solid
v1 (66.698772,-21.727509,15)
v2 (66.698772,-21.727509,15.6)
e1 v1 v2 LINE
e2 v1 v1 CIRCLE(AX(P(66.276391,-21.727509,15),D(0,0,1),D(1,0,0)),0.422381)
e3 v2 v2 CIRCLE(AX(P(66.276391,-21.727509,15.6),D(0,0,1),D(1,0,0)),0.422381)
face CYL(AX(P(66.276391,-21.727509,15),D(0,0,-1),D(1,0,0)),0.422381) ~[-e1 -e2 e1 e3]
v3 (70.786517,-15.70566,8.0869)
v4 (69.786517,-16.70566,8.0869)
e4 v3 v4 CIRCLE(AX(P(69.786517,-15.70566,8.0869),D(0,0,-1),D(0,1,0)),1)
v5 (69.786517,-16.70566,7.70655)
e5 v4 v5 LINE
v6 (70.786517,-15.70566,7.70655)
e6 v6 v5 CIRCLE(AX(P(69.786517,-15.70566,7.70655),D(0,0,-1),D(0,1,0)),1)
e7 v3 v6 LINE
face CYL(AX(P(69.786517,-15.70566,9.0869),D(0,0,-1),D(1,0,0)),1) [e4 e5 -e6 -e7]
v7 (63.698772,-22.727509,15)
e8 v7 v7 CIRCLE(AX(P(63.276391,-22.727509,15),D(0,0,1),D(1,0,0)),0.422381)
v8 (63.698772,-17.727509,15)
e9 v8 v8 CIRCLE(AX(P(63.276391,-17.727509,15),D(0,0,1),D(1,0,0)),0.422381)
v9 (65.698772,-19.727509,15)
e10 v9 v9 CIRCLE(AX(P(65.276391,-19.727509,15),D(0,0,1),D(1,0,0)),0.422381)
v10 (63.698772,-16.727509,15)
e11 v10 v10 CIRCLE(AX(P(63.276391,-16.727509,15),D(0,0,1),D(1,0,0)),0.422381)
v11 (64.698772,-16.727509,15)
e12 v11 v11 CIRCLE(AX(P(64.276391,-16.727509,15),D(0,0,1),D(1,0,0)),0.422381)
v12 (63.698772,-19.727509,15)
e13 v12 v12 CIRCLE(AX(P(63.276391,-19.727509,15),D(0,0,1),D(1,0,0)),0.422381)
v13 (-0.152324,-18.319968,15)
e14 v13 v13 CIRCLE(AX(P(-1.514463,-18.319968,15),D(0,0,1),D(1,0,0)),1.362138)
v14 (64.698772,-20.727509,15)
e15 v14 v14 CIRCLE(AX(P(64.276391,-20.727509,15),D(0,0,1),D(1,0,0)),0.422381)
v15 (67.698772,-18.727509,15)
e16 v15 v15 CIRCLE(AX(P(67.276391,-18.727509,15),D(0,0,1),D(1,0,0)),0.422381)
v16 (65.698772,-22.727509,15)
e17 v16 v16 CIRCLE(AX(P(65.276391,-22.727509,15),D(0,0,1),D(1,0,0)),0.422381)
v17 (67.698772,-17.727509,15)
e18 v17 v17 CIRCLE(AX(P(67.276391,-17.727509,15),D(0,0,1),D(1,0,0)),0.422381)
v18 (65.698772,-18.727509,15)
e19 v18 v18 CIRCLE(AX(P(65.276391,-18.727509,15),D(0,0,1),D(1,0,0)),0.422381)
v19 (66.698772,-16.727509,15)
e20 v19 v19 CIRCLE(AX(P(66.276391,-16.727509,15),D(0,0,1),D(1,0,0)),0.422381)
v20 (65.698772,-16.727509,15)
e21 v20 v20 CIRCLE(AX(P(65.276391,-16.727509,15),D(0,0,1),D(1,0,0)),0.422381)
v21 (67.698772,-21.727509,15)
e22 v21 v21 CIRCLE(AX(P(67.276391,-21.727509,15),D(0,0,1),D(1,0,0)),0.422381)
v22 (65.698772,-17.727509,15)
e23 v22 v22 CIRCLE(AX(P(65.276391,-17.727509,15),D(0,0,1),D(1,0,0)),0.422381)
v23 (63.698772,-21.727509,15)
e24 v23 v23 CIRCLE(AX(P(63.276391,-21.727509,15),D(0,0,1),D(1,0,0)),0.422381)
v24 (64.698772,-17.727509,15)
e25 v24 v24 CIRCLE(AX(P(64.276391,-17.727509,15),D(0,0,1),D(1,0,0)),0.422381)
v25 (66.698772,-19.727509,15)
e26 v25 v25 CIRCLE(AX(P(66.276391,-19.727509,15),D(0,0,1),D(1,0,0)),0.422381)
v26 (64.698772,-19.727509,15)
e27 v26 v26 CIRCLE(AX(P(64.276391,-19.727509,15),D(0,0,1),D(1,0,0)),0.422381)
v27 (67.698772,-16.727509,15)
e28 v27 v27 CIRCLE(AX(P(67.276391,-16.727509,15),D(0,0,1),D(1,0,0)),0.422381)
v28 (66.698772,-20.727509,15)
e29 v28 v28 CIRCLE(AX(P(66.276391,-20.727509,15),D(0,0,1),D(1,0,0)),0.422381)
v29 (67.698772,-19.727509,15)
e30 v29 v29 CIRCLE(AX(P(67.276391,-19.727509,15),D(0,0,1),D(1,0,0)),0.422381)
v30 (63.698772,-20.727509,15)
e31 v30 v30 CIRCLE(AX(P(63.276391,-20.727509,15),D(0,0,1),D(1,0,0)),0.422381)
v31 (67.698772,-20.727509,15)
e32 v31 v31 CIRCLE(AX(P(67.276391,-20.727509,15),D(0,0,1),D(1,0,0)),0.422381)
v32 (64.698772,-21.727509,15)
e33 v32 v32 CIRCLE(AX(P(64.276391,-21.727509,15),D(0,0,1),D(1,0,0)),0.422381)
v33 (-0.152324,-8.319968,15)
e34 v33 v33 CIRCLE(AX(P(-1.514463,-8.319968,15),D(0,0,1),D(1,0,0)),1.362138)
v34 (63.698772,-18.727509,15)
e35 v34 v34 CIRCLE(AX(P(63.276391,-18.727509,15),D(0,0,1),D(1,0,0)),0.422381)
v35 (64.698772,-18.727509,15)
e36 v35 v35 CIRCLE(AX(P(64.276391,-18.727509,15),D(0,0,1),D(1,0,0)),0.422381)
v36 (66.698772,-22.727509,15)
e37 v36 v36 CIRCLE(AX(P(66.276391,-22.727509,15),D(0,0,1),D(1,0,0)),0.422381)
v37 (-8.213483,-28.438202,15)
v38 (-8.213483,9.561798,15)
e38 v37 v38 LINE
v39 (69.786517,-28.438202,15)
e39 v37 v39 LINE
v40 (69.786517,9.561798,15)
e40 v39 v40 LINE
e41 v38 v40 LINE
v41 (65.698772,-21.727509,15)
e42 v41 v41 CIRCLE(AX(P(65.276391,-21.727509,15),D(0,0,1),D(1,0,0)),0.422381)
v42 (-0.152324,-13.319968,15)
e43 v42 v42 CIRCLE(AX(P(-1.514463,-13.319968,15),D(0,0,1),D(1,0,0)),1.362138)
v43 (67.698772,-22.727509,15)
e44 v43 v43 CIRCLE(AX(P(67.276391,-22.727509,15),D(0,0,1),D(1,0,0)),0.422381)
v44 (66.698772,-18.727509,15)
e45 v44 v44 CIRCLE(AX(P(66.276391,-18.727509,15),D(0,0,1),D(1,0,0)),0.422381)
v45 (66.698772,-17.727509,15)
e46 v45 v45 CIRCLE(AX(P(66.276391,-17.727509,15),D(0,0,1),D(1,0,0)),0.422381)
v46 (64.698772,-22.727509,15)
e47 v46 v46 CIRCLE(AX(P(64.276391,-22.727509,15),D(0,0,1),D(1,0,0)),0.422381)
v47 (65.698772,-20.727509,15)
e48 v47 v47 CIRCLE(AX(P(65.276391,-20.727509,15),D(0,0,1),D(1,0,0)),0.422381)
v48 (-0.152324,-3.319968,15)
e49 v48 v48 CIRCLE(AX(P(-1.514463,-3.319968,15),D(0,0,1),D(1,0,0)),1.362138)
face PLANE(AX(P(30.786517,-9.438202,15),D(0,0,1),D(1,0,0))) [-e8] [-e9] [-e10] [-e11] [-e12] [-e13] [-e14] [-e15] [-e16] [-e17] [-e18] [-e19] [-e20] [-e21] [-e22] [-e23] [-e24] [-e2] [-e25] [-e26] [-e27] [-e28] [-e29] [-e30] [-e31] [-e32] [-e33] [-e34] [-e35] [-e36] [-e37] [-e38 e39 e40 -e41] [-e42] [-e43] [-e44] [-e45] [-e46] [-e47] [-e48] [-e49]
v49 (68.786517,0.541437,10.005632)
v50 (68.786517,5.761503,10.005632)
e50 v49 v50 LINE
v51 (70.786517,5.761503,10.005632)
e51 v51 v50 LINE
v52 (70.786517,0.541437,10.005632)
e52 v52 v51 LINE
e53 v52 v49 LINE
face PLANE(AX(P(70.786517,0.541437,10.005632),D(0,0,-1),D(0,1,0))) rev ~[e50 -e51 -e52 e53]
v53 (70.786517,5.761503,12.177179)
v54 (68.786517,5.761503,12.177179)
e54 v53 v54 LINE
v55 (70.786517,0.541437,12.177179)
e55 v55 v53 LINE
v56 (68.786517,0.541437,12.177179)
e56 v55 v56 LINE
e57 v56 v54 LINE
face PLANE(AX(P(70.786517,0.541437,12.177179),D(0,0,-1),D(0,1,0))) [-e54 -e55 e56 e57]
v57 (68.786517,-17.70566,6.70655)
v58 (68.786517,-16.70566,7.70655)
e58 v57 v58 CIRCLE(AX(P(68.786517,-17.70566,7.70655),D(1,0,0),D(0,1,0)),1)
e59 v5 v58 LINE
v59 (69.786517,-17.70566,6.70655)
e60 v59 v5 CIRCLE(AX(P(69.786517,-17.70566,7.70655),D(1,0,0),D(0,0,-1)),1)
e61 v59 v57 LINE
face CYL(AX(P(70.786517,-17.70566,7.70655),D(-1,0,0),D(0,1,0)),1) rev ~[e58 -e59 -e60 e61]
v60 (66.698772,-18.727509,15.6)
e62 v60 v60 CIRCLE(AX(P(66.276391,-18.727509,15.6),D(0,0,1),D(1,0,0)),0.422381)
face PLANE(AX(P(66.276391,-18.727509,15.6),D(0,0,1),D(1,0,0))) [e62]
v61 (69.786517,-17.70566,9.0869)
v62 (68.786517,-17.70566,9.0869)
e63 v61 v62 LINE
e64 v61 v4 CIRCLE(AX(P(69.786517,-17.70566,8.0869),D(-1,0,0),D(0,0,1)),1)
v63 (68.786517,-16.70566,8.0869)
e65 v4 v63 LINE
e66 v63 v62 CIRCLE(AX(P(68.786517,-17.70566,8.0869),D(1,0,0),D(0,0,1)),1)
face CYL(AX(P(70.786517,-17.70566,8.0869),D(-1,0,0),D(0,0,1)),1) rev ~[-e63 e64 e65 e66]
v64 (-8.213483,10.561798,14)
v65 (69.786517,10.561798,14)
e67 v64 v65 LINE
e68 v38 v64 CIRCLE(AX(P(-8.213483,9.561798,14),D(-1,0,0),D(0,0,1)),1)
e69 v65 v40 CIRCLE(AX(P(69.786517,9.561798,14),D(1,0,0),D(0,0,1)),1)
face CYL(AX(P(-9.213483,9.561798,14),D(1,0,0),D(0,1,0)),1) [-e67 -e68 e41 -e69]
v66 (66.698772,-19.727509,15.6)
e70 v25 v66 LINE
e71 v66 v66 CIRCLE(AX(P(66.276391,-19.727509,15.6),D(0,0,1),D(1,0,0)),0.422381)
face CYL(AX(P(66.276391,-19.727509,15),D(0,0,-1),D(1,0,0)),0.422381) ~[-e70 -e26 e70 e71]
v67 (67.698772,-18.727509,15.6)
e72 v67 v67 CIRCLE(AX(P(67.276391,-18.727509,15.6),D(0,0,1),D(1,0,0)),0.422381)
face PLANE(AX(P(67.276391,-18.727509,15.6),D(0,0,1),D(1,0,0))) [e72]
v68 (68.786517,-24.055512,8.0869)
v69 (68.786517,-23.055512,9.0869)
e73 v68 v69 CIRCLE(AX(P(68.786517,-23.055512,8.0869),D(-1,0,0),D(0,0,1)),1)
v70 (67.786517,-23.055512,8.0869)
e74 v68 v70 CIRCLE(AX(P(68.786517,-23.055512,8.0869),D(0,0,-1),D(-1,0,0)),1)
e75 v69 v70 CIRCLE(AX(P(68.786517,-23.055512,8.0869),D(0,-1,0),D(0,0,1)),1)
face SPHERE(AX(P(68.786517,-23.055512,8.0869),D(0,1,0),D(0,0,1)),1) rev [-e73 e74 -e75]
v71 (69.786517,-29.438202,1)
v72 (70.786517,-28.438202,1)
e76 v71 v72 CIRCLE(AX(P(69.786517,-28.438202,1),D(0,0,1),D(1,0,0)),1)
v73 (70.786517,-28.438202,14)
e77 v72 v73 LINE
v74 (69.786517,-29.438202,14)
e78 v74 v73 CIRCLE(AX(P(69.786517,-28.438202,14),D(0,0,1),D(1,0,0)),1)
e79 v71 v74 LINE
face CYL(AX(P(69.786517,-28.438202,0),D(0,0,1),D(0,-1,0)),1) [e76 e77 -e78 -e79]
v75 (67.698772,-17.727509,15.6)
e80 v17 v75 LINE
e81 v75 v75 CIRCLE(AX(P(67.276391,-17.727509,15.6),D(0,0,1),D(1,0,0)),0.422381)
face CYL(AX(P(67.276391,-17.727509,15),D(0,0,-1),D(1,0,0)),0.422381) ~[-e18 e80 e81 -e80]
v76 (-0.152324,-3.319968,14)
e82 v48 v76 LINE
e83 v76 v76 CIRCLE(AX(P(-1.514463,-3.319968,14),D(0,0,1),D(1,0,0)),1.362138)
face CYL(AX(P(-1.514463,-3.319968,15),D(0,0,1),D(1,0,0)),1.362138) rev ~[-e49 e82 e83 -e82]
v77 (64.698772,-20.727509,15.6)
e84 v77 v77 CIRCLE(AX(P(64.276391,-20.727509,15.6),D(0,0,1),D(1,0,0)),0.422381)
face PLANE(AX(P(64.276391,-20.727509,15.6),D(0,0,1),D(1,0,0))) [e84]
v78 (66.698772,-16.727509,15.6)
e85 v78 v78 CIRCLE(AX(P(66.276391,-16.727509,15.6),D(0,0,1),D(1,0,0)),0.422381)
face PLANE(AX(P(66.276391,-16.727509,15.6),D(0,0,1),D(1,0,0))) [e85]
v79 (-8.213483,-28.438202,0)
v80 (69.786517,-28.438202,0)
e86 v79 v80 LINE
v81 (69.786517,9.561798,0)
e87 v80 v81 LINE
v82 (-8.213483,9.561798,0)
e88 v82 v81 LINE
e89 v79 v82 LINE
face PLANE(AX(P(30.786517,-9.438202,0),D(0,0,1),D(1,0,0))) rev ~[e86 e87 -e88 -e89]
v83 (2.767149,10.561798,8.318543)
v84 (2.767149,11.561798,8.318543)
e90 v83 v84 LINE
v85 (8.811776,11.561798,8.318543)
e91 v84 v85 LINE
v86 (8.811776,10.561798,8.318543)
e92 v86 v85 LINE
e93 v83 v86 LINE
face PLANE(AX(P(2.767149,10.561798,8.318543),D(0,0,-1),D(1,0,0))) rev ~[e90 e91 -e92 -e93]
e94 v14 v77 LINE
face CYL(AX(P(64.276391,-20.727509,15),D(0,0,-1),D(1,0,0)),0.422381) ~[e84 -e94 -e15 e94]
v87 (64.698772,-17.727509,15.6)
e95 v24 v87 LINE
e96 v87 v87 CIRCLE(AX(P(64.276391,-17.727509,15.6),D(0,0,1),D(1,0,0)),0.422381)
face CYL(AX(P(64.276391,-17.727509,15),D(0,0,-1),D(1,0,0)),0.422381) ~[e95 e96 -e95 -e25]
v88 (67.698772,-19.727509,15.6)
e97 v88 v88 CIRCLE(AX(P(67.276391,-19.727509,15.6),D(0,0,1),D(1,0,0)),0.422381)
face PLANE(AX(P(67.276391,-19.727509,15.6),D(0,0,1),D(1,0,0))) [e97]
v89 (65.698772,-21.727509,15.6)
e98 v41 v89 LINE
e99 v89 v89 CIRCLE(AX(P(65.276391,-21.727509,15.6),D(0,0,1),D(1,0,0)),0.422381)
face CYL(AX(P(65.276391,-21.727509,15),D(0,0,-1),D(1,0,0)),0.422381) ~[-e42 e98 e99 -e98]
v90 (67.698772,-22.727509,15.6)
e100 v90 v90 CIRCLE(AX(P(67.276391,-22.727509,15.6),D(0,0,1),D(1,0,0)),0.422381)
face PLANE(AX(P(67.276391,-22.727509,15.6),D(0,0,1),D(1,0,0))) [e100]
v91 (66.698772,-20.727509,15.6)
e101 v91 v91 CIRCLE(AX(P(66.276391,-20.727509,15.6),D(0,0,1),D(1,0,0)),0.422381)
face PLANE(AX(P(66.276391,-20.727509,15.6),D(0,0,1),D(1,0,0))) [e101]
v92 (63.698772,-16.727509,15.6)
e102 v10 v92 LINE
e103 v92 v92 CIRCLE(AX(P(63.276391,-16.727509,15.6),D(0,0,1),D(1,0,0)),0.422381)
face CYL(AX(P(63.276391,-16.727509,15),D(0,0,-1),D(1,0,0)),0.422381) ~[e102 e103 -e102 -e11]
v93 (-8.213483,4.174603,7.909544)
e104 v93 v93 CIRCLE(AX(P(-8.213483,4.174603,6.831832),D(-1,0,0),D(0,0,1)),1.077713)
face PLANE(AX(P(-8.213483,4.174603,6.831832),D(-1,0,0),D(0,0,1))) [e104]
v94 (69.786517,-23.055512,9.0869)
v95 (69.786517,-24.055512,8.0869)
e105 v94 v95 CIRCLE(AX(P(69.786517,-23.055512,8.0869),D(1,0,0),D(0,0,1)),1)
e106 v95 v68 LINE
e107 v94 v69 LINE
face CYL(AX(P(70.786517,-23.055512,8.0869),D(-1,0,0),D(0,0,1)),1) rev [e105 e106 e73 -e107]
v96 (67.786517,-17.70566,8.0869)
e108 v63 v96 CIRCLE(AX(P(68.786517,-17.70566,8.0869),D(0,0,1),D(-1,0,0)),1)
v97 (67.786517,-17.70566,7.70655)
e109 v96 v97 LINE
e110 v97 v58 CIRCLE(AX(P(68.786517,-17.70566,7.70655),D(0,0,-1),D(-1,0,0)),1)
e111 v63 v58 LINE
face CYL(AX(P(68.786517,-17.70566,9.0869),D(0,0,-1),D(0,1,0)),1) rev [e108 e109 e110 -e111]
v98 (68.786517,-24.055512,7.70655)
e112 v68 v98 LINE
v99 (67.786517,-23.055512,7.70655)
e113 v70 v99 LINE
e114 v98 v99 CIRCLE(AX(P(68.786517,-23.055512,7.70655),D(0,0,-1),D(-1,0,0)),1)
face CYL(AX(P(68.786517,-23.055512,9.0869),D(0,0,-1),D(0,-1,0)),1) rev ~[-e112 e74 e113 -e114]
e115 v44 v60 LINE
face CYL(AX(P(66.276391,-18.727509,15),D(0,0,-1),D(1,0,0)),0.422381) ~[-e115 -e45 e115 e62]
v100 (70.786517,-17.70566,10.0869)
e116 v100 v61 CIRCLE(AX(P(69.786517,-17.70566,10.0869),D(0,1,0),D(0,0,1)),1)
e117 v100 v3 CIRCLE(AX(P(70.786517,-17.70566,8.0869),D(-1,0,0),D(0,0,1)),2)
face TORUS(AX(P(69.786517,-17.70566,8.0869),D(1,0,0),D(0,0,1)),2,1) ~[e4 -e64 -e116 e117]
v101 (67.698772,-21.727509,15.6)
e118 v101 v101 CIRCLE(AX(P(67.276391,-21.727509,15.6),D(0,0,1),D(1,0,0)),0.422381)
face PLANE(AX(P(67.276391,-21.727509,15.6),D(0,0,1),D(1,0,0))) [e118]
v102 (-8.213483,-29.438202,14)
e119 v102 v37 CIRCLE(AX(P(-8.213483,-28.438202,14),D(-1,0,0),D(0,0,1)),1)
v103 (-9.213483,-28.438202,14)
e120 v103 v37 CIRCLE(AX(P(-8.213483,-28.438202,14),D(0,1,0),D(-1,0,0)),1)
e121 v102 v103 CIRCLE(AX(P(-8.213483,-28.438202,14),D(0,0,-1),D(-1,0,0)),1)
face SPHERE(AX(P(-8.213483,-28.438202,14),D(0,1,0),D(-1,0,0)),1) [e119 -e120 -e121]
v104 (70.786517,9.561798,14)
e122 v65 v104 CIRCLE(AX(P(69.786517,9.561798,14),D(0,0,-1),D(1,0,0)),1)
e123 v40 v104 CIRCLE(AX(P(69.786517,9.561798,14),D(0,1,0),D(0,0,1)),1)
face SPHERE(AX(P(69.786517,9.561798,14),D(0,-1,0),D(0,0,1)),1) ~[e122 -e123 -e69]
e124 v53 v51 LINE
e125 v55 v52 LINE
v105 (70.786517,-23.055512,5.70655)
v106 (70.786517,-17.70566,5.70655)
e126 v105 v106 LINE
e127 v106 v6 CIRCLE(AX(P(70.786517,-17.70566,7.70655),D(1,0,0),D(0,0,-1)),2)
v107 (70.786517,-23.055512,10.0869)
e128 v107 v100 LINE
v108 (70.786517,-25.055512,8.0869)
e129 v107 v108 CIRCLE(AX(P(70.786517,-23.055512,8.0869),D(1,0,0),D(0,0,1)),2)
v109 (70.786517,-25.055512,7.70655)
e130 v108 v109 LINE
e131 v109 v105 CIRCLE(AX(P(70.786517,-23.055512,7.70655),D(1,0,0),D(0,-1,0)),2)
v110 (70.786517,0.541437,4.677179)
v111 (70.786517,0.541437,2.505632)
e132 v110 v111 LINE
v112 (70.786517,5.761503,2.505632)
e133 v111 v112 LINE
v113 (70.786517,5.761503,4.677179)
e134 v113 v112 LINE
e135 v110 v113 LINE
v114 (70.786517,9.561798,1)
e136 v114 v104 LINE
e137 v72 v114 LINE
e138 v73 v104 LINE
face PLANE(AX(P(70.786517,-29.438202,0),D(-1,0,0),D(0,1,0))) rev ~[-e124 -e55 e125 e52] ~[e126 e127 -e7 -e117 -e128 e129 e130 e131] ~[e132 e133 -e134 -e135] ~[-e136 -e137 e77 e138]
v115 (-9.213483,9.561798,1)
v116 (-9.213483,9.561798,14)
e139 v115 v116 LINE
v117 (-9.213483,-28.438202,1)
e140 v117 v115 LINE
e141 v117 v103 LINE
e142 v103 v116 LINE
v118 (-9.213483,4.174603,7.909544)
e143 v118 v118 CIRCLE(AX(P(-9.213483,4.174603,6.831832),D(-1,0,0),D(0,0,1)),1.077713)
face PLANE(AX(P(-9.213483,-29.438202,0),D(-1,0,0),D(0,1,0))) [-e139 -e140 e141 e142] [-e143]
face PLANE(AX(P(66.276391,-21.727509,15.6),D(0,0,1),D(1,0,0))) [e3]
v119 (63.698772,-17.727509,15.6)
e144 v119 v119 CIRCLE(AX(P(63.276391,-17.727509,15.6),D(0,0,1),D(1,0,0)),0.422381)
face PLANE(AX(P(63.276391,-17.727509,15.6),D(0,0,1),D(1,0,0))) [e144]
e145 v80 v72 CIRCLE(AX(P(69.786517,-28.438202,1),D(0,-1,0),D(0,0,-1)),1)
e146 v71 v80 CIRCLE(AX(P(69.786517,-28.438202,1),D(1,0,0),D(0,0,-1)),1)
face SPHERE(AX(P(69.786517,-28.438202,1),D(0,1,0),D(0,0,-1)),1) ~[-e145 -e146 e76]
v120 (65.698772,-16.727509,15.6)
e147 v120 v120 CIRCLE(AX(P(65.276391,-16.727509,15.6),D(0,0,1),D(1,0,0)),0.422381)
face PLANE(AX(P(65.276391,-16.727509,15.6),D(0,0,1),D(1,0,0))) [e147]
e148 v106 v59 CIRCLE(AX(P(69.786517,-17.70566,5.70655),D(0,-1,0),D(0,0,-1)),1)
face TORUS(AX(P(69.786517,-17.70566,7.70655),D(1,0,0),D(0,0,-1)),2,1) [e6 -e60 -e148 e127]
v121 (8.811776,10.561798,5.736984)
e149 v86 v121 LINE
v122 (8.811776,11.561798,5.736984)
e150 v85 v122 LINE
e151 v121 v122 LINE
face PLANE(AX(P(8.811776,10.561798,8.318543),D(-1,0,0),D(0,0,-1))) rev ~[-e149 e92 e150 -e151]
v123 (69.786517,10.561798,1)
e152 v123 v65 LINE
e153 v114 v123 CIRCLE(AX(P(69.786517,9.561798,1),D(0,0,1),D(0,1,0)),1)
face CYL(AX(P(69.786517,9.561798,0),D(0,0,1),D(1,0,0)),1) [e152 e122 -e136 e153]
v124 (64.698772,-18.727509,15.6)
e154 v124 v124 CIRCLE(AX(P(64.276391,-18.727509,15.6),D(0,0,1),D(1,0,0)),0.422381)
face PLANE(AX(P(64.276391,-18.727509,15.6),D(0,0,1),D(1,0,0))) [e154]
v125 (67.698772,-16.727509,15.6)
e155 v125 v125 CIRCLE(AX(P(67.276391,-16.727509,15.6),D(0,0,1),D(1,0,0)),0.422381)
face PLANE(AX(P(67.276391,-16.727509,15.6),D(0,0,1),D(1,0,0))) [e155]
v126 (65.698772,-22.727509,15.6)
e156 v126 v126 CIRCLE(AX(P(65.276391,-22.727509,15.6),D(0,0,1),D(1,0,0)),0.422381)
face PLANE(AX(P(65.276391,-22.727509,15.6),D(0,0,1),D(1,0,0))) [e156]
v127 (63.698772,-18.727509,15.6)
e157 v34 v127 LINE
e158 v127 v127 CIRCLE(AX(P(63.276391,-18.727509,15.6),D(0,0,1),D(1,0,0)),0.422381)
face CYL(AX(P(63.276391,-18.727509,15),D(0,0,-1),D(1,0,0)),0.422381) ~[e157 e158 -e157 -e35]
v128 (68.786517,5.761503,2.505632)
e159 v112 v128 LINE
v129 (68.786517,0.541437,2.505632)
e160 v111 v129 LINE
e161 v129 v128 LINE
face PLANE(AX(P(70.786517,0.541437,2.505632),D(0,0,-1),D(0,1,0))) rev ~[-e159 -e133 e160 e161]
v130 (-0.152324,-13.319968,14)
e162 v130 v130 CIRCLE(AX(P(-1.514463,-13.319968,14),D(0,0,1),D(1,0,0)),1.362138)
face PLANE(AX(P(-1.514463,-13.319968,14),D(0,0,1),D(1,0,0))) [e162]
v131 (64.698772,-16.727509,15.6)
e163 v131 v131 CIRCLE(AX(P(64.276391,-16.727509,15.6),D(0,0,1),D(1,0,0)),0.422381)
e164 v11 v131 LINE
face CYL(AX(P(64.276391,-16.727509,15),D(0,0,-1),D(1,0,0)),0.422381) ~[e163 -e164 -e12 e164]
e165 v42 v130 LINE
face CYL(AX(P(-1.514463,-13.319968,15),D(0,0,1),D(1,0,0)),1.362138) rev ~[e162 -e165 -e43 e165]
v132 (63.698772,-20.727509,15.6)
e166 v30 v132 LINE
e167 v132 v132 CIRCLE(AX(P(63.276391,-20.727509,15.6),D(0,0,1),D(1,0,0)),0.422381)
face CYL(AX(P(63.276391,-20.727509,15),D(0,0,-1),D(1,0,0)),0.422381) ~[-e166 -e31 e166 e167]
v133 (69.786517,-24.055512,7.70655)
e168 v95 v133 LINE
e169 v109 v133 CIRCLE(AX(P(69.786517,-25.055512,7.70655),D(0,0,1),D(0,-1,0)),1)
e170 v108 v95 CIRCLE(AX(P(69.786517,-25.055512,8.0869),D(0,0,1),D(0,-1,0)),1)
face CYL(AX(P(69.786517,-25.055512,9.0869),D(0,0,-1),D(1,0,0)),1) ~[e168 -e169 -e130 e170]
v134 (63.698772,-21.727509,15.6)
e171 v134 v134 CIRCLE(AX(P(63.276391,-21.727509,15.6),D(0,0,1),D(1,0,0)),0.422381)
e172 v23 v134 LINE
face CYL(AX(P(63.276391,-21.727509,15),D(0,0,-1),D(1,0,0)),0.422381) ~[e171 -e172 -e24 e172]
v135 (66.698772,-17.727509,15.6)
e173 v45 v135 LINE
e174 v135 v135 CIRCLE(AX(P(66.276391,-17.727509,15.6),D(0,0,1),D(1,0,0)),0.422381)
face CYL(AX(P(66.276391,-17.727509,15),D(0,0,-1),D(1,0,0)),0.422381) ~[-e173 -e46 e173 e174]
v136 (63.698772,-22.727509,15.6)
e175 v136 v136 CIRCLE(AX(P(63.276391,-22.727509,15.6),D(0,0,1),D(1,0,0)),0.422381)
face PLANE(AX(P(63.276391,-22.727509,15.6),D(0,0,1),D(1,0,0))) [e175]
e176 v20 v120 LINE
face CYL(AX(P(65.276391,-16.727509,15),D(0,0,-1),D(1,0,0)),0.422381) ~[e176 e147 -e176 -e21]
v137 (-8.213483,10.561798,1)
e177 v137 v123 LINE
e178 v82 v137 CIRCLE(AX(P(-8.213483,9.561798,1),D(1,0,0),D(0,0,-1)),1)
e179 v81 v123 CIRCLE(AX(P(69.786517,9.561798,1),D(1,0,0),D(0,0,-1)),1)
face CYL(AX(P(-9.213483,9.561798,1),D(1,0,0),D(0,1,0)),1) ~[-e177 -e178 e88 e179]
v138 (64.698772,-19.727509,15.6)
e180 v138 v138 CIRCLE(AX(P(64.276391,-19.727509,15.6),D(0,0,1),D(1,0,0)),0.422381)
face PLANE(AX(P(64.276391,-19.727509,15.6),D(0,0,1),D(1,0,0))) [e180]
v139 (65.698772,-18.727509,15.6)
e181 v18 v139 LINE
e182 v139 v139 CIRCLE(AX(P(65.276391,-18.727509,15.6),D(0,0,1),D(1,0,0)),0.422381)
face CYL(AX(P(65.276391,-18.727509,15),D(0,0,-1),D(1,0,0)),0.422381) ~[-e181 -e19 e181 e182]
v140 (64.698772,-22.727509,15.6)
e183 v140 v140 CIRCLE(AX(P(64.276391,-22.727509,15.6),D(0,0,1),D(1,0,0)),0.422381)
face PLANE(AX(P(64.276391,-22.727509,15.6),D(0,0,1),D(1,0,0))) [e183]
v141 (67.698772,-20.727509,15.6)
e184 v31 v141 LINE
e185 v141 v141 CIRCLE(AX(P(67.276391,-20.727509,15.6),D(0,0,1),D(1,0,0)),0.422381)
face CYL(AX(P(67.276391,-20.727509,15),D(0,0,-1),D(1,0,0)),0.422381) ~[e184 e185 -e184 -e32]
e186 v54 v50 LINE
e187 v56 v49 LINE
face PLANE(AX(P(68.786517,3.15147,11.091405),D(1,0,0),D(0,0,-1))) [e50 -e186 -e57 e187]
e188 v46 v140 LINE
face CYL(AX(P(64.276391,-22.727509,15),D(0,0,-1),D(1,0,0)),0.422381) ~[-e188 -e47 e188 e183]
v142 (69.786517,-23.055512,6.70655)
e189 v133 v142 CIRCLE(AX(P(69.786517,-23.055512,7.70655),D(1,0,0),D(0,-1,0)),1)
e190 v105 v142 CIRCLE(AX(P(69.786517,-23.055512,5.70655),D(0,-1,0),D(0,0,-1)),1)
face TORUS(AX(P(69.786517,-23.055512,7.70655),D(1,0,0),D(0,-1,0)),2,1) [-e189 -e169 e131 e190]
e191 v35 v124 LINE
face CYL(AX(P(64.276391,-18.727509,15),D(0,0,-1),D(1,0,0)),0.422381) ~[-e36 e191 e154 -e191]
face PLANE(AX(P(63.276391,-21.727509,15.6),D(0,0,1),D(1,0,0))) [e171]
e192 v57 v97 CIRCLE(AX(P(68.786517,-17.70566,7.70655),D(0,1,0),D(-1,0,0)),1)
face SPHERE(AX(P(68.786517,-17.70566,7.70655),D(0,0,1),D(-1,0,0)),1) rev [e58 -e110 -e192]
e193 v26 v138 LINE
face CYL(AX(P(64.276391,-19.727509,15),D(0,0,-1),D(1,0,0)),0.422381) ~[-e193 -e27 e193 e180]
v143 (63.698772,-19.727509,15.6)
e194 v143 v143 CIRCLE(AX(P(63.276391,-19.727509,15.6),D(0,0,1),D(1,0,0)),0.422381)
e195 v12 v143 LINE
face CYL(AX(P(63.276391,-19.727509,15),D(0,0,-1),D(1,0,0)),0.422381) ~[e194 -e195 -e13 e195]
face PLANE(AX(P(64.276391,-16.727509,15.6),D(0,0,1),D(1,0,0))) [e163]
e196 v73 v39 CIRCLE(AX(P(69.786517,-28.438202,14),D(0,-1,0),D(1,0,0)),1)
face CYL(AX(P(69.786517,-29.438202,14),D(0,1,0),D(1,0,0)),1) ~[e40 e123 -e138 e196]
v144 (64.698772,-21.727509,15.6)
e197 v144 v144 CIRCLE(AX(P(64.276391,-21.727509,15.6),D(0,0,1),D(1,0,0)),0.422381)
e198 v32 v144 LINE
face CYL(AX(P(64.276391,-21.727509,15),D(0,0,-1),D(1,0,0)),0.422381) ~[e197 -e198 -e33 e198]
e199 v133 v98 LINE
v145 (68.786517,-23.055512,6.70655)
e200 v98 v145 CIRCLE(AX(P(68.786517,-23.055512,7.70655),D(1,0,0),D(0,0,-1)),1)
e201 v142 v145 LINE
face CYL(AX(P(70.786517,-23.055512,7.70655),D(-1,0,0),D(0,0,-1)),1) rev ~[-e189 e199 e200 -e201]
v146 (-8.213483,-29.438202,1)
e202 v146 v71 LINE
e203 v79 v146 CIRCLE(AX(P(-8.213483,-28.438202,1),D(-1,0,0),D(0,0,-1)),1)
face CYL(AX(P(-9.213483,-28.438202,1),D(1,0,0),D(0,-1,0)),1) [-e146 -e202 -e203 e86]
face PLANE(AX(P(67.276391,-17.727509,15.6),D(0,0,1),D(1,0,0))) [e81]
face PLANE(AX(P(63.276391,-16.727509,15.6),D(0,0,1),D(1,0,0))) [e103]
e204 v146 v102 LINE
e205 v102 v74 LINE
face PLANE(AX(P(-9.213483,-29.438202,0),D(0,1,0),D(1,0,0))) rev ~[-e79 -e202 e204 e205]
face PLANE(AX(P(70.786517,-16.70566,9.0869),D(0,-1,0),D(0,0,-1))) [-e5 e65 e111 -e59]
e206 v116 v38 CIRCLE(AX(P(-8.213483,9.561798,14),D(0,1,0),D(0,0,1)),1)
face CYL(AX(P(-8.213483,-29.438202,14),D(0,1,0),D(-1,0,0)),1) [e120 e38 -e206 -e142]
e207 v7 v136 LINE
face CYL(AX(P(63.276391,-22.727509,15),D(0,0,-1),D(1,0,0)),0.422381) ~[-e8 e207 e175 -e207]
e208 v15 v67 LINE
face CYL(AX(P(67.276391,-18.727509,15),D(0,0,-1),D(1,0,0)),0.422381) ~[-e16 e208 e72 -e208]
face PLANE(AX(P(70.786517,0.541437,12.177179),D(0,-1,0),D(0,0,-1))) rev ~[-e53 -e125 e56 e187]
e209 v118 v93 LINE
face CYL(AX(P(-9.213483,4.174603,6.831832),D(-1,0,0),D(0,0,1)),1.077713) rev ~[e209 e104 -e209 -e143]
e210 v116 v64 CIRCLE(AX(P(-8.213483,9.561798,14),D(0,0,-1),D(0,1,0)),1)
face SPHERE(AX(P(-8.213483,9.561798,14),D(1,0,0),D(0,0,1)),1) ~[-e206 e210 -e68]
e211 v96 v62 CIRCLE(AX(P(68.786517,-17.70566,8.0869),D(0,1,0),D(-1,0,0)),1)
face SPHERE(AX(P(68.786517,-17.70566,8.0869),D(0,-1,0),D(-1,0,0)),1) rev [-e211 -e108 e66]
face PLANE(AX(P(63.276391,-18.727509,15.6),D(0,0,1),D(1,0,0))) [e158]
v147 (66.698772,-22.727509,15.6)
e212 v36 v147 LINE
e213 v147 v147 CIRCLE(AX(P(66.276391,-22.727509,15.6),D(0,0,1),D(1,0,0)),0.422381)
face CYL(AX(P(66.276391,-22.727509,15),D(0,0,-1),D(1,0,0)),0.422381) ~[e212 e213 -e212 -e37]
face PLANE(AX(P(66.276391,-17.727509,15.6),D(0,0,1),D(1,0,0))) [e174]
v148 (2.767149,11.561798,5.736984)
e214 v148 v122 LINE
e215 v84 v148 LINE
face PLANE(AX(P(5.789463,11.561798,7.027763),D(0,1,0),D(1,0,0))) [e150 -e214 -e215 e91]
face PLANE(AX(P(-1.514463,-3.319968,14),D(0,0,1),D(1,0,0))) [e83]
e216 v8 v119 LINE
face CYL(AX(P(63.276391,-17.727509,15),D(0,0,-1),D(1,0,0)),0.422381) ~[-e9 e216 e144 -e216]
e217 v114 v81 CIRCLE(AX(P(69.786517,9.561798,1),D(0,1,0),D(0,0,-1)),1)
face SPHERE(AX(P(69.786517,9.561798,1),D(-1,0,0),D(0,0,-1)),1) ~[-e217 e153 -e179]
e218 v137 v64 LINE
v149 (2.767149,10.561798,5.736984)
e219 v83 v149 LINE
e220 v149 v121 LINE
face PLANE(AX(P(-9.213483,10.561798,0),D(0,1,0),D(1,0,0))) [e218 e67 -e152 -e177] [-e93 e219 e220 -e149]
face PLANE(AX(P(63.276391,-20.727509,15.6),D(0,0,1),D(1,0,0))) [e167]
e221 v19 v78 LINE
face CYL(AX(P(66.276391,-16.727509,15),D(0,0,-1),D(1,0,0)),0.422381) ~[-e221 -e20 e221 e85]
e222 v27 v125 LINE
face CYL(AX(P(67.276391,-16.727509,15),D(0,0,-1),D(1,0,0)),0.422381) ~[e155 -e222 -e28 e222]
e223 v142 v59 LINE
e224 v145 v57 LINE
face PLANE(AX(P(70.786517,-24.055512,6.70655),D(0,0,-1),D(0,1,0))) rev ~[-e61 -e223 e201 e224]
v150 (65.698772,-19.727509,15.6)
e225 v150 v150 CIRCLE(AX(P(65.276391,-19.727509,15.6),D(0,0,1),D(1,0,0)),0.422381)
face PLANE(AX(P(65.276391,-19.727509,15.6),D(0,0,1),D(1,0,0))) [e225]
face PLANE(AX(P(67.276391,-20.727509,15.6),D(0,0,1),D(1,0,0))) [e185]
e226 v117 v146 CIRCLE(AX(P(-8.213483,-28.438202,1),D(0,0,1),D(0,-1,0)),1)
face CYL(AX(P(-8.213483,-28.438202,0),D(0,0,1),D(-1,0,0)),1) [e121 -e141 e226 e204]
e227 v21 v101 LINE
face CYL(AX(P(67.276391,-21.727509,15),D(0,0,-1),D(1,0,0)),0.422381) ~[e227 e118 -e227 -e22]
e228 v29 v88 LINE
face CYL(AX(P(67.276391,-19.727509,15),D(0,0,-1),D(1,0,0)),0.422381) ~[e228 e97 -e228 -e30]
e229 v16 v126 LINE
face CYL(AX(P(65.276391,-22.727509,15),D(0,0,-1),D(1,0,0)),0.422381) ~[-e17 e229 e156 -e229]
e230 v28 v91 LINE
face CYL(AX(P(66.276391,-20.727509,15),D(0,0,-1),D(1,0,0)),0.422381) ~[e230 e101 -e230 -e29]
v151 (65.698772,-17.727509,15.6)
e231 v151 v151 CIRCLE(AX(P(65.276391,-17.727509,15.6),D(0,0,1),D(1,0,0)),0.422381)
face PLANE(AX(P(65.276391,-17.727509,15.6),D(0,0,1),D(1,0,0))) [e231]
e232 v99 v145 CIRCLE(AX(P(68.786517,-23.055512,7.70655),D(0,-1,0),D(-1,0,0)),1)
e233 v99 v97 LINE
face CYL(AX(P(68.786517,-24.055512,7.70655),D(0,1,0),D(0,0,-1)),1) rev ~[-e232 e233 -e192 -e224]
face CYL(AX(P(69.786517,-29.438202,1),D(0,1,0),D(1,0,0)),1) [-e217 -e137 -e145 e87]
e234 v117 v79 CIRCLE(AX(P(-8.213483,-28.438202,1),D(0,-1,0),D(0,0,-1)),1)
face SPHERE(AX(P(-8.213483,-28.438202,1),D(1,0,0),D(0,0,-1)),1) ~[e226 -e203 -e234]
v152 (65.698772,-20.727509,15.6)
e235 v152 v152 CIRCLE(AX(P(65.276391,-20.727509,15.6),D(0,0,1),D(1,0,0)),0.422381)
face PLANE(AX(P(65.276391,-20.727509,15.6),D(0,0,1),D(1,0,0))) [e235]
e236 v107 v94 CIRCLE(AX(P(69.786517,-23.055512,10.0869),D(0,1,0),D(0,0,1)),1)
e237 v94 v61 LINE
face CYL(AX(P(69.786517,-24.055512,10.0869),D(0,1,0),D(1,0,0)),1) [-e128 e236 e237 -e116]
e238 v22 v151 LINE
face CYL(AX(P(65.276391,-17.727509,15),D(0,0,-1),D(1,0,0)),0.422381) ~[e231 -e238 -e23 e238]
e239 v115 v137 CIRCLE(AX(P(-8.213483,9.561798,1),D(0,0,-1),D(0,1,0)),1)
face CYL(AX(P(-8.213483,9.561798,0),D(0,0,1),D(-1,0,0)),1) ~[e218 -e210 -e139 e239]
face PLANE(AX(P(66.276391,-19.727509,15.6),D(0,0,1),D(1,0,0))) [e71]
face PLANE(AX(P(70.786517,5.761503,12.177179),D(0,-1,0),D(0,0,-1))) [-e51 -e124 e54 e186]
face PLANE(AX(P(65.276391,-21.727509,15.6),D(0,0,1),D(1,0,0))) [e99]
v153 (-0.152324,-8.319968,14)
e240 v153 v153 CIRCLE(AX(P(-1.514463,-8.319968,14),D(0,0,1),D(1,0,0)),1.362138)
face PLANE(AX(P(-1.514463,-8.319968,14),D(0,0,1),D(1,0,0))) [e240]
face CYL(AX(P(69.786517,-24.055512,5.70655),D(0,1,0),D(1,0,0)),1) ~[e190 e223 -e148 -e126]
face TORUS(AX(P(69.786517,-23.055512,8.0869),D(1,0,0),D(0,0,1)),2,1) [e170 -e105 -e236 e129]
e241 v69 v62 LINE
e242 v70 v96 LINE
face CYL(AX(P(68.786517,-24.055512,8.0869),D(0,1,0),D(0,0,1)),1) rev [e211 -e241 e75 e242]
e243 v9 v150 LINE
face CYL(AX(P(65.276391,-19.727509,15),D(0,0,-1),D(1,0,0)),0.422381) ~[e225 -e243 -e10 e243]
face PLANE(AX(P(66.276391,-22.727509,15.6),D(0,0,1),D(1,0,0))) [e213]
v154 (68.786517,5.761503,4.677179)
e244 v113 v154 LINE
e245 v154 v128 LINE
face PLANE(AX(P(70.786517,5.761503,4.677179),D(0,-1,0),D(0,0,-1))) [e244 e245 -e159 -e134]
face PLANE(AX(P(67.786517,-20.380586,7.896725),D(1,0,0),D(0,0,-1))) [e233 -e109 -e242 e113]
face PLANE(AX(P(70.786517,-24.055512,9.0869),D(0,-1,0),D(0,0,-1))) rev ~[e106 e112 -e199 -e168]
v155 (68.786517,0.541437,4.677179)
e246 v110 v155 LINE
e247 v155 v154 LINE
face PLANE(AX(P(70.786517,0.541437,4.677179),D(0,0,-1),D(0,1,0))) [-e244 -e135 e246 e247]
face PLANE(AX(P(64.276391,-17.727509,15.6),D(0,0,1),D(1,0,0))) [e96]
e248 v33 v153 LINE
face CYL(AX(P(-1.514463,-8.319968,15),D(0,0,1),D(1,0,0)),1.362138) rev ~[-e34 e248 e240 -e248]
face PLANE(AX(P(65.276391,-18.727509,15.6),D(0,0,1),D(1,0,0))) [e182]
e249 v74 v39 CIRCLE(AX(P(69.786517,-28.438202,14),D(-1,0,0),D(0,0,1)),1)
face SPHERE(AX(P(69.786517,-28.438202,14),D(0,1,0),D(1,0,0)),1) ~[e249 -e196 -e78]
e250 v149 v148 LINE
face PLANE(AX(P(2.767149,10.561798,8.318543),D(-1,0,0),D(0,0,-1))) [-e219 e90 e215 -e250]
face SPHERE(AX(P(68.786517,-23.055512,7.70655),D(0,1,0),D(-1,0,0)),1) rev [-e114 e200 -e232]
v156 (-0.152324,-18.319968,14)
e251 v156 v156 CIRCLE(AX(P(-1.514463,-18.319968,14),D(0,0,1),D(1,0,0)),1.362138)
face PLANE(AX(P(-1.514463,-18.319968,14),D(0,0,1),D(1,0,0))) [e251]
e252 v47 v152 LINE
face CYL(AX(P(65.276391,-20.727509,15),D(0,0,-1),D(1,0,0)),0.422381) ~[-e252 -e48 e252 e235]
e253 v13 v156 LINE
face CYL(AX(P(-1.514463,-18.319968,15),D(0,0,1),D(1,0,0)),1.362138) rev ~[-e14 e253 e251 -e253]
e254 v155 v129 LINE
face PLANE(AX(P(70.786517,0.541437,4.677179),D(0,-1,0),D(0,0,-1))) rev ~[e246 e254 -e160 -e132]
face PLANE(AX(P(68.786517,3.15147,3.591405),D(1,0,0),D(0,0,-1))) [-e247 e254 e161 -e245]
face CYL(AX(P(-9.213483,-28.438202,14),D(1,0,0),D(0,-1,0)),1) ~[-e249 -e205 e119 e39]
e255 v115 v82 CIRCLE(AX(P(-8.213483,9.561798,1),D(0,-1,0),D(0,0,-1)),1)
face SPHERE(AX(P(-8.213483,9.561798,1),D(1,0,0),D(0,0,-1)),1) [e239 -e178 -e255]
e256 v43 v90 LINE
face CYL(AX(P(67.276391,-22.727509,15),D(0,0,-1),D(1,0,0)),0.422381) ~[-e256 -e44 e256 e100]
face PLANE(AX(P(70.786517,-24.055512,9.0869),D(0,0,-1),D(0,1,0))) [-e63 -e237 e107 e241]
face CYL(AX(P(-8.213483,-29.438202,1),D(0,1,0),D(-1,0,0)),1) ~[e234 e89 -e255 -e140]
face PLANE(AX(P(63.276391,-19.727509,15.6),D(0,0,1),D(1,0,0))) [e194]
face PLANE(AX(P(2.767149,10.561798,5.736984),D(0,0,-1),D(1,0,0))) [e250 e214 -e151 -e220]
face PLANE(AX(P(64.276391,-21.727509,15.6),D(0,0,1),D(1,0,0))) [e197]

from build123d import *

# Parameters (mm, degrees)
SKETCH1_W           = 80
SKETCH1_H           = 40
BOSS_EXTRUDE1_DEPTH = 15
FILLET2_R           = 1
SKETCH2_W           = 6.044627726
SKETCH2_H           = 2.581559758
BOSS_EXTRUDE2_DEPTH = 1
SKETCH3_R           = 1.362138451
CUT_EXTRUDE1_DEPTH  = 1
SKETCH4_R           = 1.077712871
CUT_EXTRUDE2_DEPTH  = 1
SKETCH5_W           = 2.171547326
SKETCH5_H           = 5.220065687
CUT_EXTRUDE3_DEPTH  = 2
SKETCH6_W           = 2.380349953
SKETCH6_H           = 7.349852488
CUT_EXTRUDE4_DEPTH  = 3
FILLET3_R           = 1
SKETCH7_R           = 0.422381203
BOSS_EXTRUDE3_DEPTH = 0.6


with BuildPart() as part:
    # Sketch1 → Boss-Extrude1 (new body)
    with BuildSketch(Plane.XY):
        with Locations((30.786516854, -9.438202247)):
            Rectangle(SKETCH1_W, SKETCH1_H)
    extrude(amount=BOSS_EXTRUDE1_DEPTH)

    # Fillet2
    fillet2_edges = [part.edges().sort_by_distance(p)[0] for p in [
        (70.786516854, -9.438202247, 15),
        (30.786516854, 10.561797753, 15),
        (-9.213483146, -9.438202247, 15),
        (30.786516854, 10.561797753, 0),
        (70.786516854, -9.438202247, 0),
        (30.786516854, -29.438202247, 0),
        (-9.213483146, -9.438202247, 0),
        (-9.213483146, 10.561797753, 7.5),
        (70.786516854, 10.561797753, 7.5),
        (70.786516854, -29.438202247, 7.5),
        (-9.213483146, -29.438202247, 7.5),
        (30.786516854, -29.438202247, 15),
    ]]
    fillet(fillet2_edges, radius=FILLET2_R)

    # Sketch2 → Boss-Extrude2 (add)
    with BuildSketch(Plane(origin=(0, 10.561797753, 0), x_dir=(1, 0, 0), z_dir=(0, 1, 0))):
        with Locations((5.789462611, -7.027763459)):
            Rectangle(SKETCH2_W, SKETCH2_H)
    extrude(amount=BOSS_EXTRUDE2_DEPTH)

    # Sketch3 → Cut-Extrude1 (cut)
    with BuildSketch(Plane.XY.offset(15)):
        with Locations((-1.514462559, -18.319968197)):
            Circle(SKETCH3_R)
        with Locations((-1.514462559, -13.319968197)):
            Circle(SKETCH3_R)
        with Locations((-1.514462559, -8.319968197)):
            Circle(SKETCH3_R)
        with Locations((-1.514462559, -3.319968197)):
            Circle(SKETCH3_R)
    extrude(amount=-CUT_EXTRUDE1_DEPTH, mode=Mode.SUBTRACT)

    # Sketch4 → Cut-Extrude2 (cut)
    with BuildSketch(Plane.ZY.offset(9.213483146)):
        with Locations((6.831831592, 4.174602759)):
            Circle(SKETCH4_R)
    extrude(amount=-CUT_EXTRUDE2_DEPTH, mode=Mode.SUBTRACT)

    # Sketch5 → Cut-Extrude3 (cut)
    with BuildSketch(Plane(origin=(70.786516854, 0, 0), x_dir=(0, 0, -1), z_dir=(1, 0, 0))):
        with Locations((-3.591405193, 3.151469884)):
            Rectangle(SKETCH5_W, SKETCH5_H)
        with Locations((-11.091405193, 3.151469884)):
            Rectangle(SKETCH5_W, SKETCH5_H)
    extrude(amount=-CUT_EXTRUDE3_DEPTH, mode=Mode.SUBTRACT)

    # Sketch6 → Cut-Extrude4 (cut)
    with BuildSketch(Plane(origin=(70.786516854, 0, 0), x_dir=(0, 0, -1), z_dir=(1, 0, 0))):
        with Locations((-7.896724993, -20.380586234)):
            Rectangle(SKETCH6_W, SKETCH6_H)
    extrude(amount=-CUT_EXTRUDE4_DEPTH, mode=Mode.SUBTRACT)

    # Fillet3
    fillet3_edges = [part.edges().sort_by_distance(p)[0] for p in [
        (67.786516854, -20.380586234, 9.086899969),
        (69.286516854, -24.055512478, 9.086899969),
        (67.786516854, -16.70565999, 7.896724992),
        (69.286516854, -16.70565999, 9.086899969),
        (67.786516854, -20.380586234, 6.706550016),
        (69.286516854, -16.70565999, 6.706550016),
        (67.786516854, -24.055512478, 7.896724992),
        (69.286516854, -24.055512478, 6.706550016),
        (70.786516854, -20.380586234, 9.086899969),
        (70.786516854, -24.055512478, 7.896724992),
        (70.786516854, -20.380586234, 6.706550016),
        (70.786516854, -16.70565999, 7.896724992),
    ]]
    fillet(fillet3_edges, radius=FILLET3_R)

    # Sketch7 → Boss-Extrude3 (add)
    with BuildSketch(Plane.XY.offset(15)):
        with Locations((63.276390883, -22.727509248)):
            Circle(SKETCH7_R)
        with Locations((64.276390883, -22.727509248)):
            Circle(SKETCH7_R)
        with Locations((65.276390883, -22.727509248)):
            Circle(SKETCH7_R)
        with Locations((66.276390883, -22.727509248)):
            Circle(SKETCH7_R)
        with Locations((67.276390883, -22.727509248)):
            Circle(SKETCH7_R)
        with Locations((64.276390883, -21.727509248)):
            Circle(SKETCH7_R)
        with Locations((65.276390883, -21.727509248)):
            Circle(SKETCH7_R)
        with Locations((66.276390883, -21.727509248)):
            Circle(SKETCH7_R)
        with Locations((67.276390883, -21.727509248)):
            Circle(SKETCH7_R)
        with Locations((64.276390883, -20.727509248)):
            Circle(SKETCH7_R)
        with Locations((65.276390883, -20.727509248)):
            Circle(SKETCH7_R)
        with Locations((66.276390883, -20.727509248)):
            Circle(SKETCH7_R)
        with Locations((67.276390883, -20.727509248)):
            Circle(SKETCH7_R)
        with Locations((64.276390883, -19.727509248)):
            Circle(SKETCH7_R)
        with Locations((65.276390883, -19.727509248)):
            Circle(SKETCH7_R)
        with Locations((66.276390883, -19.727509248)):
            Circle(SKETCH7_R)
        with Locations((67.276390883, -19.727509248)):
            Circle(SKETCH7_R)
        with Locations((64.276390883, -18.727509248)):
            Circle(SKETCH7_R)
        with Locations((65.276390883, -18.727509248)):
            Circle(SKETCH7_R)
        with Locations((66.276390883, -18.727509248)):
            Circle(SKETCH7_R)
        with Locations((67.276390883, -18.727509248)):
            Circle(SKETCH7_R)
        with Locations((64.276390883, -17.727509248)):
            Circle(SKETCH7_R)
        with Locations((65.276390883, -17.727509248)):
            Circle(SKETCH7_R)
        with Locations((66.276390883, -17.727509248)):
            Circle(SKETCH7_R)
        with Locations((67.276390883, -17.727509248)):
            Circle(SKETCH7_R)
        with Locations((64.276390883, -16.727509248)):
            Circle(SKETCH7_R)
        with Locations((65.276390883, -16.727509248)):
            Circle(SKETCH7_R)
        with Locations((66.276390883, -16.727509248)):
            Circle(SKETCH7_R)
        with Locations((67.276390883, -16.727509248)):
            Circle(SKETCH7_R)
        with Locations((63.276390883, -21.727509248)):
            Circle(SKETCH7_R)
        with Locations((63.276390883, -20.727509248)):
            Circle(SKETCH7_R)
        with Locations((63.276390883, -19.727509248)):
            Circle(SKETCH7_R)
        with Locations((63.276390883, -18.727509248)):
            Circle(SKETCH7_R)
        with Locations((63.276390883, -17.727509248)):
            Circle(SKETCH7_R)
        with Locations((63.276390883, -16.727509248)):
            Circle(SKETCH7_R)
    extrude(amount=BOSS_EXTRUDE3_DEPTH)


solid = part.part
